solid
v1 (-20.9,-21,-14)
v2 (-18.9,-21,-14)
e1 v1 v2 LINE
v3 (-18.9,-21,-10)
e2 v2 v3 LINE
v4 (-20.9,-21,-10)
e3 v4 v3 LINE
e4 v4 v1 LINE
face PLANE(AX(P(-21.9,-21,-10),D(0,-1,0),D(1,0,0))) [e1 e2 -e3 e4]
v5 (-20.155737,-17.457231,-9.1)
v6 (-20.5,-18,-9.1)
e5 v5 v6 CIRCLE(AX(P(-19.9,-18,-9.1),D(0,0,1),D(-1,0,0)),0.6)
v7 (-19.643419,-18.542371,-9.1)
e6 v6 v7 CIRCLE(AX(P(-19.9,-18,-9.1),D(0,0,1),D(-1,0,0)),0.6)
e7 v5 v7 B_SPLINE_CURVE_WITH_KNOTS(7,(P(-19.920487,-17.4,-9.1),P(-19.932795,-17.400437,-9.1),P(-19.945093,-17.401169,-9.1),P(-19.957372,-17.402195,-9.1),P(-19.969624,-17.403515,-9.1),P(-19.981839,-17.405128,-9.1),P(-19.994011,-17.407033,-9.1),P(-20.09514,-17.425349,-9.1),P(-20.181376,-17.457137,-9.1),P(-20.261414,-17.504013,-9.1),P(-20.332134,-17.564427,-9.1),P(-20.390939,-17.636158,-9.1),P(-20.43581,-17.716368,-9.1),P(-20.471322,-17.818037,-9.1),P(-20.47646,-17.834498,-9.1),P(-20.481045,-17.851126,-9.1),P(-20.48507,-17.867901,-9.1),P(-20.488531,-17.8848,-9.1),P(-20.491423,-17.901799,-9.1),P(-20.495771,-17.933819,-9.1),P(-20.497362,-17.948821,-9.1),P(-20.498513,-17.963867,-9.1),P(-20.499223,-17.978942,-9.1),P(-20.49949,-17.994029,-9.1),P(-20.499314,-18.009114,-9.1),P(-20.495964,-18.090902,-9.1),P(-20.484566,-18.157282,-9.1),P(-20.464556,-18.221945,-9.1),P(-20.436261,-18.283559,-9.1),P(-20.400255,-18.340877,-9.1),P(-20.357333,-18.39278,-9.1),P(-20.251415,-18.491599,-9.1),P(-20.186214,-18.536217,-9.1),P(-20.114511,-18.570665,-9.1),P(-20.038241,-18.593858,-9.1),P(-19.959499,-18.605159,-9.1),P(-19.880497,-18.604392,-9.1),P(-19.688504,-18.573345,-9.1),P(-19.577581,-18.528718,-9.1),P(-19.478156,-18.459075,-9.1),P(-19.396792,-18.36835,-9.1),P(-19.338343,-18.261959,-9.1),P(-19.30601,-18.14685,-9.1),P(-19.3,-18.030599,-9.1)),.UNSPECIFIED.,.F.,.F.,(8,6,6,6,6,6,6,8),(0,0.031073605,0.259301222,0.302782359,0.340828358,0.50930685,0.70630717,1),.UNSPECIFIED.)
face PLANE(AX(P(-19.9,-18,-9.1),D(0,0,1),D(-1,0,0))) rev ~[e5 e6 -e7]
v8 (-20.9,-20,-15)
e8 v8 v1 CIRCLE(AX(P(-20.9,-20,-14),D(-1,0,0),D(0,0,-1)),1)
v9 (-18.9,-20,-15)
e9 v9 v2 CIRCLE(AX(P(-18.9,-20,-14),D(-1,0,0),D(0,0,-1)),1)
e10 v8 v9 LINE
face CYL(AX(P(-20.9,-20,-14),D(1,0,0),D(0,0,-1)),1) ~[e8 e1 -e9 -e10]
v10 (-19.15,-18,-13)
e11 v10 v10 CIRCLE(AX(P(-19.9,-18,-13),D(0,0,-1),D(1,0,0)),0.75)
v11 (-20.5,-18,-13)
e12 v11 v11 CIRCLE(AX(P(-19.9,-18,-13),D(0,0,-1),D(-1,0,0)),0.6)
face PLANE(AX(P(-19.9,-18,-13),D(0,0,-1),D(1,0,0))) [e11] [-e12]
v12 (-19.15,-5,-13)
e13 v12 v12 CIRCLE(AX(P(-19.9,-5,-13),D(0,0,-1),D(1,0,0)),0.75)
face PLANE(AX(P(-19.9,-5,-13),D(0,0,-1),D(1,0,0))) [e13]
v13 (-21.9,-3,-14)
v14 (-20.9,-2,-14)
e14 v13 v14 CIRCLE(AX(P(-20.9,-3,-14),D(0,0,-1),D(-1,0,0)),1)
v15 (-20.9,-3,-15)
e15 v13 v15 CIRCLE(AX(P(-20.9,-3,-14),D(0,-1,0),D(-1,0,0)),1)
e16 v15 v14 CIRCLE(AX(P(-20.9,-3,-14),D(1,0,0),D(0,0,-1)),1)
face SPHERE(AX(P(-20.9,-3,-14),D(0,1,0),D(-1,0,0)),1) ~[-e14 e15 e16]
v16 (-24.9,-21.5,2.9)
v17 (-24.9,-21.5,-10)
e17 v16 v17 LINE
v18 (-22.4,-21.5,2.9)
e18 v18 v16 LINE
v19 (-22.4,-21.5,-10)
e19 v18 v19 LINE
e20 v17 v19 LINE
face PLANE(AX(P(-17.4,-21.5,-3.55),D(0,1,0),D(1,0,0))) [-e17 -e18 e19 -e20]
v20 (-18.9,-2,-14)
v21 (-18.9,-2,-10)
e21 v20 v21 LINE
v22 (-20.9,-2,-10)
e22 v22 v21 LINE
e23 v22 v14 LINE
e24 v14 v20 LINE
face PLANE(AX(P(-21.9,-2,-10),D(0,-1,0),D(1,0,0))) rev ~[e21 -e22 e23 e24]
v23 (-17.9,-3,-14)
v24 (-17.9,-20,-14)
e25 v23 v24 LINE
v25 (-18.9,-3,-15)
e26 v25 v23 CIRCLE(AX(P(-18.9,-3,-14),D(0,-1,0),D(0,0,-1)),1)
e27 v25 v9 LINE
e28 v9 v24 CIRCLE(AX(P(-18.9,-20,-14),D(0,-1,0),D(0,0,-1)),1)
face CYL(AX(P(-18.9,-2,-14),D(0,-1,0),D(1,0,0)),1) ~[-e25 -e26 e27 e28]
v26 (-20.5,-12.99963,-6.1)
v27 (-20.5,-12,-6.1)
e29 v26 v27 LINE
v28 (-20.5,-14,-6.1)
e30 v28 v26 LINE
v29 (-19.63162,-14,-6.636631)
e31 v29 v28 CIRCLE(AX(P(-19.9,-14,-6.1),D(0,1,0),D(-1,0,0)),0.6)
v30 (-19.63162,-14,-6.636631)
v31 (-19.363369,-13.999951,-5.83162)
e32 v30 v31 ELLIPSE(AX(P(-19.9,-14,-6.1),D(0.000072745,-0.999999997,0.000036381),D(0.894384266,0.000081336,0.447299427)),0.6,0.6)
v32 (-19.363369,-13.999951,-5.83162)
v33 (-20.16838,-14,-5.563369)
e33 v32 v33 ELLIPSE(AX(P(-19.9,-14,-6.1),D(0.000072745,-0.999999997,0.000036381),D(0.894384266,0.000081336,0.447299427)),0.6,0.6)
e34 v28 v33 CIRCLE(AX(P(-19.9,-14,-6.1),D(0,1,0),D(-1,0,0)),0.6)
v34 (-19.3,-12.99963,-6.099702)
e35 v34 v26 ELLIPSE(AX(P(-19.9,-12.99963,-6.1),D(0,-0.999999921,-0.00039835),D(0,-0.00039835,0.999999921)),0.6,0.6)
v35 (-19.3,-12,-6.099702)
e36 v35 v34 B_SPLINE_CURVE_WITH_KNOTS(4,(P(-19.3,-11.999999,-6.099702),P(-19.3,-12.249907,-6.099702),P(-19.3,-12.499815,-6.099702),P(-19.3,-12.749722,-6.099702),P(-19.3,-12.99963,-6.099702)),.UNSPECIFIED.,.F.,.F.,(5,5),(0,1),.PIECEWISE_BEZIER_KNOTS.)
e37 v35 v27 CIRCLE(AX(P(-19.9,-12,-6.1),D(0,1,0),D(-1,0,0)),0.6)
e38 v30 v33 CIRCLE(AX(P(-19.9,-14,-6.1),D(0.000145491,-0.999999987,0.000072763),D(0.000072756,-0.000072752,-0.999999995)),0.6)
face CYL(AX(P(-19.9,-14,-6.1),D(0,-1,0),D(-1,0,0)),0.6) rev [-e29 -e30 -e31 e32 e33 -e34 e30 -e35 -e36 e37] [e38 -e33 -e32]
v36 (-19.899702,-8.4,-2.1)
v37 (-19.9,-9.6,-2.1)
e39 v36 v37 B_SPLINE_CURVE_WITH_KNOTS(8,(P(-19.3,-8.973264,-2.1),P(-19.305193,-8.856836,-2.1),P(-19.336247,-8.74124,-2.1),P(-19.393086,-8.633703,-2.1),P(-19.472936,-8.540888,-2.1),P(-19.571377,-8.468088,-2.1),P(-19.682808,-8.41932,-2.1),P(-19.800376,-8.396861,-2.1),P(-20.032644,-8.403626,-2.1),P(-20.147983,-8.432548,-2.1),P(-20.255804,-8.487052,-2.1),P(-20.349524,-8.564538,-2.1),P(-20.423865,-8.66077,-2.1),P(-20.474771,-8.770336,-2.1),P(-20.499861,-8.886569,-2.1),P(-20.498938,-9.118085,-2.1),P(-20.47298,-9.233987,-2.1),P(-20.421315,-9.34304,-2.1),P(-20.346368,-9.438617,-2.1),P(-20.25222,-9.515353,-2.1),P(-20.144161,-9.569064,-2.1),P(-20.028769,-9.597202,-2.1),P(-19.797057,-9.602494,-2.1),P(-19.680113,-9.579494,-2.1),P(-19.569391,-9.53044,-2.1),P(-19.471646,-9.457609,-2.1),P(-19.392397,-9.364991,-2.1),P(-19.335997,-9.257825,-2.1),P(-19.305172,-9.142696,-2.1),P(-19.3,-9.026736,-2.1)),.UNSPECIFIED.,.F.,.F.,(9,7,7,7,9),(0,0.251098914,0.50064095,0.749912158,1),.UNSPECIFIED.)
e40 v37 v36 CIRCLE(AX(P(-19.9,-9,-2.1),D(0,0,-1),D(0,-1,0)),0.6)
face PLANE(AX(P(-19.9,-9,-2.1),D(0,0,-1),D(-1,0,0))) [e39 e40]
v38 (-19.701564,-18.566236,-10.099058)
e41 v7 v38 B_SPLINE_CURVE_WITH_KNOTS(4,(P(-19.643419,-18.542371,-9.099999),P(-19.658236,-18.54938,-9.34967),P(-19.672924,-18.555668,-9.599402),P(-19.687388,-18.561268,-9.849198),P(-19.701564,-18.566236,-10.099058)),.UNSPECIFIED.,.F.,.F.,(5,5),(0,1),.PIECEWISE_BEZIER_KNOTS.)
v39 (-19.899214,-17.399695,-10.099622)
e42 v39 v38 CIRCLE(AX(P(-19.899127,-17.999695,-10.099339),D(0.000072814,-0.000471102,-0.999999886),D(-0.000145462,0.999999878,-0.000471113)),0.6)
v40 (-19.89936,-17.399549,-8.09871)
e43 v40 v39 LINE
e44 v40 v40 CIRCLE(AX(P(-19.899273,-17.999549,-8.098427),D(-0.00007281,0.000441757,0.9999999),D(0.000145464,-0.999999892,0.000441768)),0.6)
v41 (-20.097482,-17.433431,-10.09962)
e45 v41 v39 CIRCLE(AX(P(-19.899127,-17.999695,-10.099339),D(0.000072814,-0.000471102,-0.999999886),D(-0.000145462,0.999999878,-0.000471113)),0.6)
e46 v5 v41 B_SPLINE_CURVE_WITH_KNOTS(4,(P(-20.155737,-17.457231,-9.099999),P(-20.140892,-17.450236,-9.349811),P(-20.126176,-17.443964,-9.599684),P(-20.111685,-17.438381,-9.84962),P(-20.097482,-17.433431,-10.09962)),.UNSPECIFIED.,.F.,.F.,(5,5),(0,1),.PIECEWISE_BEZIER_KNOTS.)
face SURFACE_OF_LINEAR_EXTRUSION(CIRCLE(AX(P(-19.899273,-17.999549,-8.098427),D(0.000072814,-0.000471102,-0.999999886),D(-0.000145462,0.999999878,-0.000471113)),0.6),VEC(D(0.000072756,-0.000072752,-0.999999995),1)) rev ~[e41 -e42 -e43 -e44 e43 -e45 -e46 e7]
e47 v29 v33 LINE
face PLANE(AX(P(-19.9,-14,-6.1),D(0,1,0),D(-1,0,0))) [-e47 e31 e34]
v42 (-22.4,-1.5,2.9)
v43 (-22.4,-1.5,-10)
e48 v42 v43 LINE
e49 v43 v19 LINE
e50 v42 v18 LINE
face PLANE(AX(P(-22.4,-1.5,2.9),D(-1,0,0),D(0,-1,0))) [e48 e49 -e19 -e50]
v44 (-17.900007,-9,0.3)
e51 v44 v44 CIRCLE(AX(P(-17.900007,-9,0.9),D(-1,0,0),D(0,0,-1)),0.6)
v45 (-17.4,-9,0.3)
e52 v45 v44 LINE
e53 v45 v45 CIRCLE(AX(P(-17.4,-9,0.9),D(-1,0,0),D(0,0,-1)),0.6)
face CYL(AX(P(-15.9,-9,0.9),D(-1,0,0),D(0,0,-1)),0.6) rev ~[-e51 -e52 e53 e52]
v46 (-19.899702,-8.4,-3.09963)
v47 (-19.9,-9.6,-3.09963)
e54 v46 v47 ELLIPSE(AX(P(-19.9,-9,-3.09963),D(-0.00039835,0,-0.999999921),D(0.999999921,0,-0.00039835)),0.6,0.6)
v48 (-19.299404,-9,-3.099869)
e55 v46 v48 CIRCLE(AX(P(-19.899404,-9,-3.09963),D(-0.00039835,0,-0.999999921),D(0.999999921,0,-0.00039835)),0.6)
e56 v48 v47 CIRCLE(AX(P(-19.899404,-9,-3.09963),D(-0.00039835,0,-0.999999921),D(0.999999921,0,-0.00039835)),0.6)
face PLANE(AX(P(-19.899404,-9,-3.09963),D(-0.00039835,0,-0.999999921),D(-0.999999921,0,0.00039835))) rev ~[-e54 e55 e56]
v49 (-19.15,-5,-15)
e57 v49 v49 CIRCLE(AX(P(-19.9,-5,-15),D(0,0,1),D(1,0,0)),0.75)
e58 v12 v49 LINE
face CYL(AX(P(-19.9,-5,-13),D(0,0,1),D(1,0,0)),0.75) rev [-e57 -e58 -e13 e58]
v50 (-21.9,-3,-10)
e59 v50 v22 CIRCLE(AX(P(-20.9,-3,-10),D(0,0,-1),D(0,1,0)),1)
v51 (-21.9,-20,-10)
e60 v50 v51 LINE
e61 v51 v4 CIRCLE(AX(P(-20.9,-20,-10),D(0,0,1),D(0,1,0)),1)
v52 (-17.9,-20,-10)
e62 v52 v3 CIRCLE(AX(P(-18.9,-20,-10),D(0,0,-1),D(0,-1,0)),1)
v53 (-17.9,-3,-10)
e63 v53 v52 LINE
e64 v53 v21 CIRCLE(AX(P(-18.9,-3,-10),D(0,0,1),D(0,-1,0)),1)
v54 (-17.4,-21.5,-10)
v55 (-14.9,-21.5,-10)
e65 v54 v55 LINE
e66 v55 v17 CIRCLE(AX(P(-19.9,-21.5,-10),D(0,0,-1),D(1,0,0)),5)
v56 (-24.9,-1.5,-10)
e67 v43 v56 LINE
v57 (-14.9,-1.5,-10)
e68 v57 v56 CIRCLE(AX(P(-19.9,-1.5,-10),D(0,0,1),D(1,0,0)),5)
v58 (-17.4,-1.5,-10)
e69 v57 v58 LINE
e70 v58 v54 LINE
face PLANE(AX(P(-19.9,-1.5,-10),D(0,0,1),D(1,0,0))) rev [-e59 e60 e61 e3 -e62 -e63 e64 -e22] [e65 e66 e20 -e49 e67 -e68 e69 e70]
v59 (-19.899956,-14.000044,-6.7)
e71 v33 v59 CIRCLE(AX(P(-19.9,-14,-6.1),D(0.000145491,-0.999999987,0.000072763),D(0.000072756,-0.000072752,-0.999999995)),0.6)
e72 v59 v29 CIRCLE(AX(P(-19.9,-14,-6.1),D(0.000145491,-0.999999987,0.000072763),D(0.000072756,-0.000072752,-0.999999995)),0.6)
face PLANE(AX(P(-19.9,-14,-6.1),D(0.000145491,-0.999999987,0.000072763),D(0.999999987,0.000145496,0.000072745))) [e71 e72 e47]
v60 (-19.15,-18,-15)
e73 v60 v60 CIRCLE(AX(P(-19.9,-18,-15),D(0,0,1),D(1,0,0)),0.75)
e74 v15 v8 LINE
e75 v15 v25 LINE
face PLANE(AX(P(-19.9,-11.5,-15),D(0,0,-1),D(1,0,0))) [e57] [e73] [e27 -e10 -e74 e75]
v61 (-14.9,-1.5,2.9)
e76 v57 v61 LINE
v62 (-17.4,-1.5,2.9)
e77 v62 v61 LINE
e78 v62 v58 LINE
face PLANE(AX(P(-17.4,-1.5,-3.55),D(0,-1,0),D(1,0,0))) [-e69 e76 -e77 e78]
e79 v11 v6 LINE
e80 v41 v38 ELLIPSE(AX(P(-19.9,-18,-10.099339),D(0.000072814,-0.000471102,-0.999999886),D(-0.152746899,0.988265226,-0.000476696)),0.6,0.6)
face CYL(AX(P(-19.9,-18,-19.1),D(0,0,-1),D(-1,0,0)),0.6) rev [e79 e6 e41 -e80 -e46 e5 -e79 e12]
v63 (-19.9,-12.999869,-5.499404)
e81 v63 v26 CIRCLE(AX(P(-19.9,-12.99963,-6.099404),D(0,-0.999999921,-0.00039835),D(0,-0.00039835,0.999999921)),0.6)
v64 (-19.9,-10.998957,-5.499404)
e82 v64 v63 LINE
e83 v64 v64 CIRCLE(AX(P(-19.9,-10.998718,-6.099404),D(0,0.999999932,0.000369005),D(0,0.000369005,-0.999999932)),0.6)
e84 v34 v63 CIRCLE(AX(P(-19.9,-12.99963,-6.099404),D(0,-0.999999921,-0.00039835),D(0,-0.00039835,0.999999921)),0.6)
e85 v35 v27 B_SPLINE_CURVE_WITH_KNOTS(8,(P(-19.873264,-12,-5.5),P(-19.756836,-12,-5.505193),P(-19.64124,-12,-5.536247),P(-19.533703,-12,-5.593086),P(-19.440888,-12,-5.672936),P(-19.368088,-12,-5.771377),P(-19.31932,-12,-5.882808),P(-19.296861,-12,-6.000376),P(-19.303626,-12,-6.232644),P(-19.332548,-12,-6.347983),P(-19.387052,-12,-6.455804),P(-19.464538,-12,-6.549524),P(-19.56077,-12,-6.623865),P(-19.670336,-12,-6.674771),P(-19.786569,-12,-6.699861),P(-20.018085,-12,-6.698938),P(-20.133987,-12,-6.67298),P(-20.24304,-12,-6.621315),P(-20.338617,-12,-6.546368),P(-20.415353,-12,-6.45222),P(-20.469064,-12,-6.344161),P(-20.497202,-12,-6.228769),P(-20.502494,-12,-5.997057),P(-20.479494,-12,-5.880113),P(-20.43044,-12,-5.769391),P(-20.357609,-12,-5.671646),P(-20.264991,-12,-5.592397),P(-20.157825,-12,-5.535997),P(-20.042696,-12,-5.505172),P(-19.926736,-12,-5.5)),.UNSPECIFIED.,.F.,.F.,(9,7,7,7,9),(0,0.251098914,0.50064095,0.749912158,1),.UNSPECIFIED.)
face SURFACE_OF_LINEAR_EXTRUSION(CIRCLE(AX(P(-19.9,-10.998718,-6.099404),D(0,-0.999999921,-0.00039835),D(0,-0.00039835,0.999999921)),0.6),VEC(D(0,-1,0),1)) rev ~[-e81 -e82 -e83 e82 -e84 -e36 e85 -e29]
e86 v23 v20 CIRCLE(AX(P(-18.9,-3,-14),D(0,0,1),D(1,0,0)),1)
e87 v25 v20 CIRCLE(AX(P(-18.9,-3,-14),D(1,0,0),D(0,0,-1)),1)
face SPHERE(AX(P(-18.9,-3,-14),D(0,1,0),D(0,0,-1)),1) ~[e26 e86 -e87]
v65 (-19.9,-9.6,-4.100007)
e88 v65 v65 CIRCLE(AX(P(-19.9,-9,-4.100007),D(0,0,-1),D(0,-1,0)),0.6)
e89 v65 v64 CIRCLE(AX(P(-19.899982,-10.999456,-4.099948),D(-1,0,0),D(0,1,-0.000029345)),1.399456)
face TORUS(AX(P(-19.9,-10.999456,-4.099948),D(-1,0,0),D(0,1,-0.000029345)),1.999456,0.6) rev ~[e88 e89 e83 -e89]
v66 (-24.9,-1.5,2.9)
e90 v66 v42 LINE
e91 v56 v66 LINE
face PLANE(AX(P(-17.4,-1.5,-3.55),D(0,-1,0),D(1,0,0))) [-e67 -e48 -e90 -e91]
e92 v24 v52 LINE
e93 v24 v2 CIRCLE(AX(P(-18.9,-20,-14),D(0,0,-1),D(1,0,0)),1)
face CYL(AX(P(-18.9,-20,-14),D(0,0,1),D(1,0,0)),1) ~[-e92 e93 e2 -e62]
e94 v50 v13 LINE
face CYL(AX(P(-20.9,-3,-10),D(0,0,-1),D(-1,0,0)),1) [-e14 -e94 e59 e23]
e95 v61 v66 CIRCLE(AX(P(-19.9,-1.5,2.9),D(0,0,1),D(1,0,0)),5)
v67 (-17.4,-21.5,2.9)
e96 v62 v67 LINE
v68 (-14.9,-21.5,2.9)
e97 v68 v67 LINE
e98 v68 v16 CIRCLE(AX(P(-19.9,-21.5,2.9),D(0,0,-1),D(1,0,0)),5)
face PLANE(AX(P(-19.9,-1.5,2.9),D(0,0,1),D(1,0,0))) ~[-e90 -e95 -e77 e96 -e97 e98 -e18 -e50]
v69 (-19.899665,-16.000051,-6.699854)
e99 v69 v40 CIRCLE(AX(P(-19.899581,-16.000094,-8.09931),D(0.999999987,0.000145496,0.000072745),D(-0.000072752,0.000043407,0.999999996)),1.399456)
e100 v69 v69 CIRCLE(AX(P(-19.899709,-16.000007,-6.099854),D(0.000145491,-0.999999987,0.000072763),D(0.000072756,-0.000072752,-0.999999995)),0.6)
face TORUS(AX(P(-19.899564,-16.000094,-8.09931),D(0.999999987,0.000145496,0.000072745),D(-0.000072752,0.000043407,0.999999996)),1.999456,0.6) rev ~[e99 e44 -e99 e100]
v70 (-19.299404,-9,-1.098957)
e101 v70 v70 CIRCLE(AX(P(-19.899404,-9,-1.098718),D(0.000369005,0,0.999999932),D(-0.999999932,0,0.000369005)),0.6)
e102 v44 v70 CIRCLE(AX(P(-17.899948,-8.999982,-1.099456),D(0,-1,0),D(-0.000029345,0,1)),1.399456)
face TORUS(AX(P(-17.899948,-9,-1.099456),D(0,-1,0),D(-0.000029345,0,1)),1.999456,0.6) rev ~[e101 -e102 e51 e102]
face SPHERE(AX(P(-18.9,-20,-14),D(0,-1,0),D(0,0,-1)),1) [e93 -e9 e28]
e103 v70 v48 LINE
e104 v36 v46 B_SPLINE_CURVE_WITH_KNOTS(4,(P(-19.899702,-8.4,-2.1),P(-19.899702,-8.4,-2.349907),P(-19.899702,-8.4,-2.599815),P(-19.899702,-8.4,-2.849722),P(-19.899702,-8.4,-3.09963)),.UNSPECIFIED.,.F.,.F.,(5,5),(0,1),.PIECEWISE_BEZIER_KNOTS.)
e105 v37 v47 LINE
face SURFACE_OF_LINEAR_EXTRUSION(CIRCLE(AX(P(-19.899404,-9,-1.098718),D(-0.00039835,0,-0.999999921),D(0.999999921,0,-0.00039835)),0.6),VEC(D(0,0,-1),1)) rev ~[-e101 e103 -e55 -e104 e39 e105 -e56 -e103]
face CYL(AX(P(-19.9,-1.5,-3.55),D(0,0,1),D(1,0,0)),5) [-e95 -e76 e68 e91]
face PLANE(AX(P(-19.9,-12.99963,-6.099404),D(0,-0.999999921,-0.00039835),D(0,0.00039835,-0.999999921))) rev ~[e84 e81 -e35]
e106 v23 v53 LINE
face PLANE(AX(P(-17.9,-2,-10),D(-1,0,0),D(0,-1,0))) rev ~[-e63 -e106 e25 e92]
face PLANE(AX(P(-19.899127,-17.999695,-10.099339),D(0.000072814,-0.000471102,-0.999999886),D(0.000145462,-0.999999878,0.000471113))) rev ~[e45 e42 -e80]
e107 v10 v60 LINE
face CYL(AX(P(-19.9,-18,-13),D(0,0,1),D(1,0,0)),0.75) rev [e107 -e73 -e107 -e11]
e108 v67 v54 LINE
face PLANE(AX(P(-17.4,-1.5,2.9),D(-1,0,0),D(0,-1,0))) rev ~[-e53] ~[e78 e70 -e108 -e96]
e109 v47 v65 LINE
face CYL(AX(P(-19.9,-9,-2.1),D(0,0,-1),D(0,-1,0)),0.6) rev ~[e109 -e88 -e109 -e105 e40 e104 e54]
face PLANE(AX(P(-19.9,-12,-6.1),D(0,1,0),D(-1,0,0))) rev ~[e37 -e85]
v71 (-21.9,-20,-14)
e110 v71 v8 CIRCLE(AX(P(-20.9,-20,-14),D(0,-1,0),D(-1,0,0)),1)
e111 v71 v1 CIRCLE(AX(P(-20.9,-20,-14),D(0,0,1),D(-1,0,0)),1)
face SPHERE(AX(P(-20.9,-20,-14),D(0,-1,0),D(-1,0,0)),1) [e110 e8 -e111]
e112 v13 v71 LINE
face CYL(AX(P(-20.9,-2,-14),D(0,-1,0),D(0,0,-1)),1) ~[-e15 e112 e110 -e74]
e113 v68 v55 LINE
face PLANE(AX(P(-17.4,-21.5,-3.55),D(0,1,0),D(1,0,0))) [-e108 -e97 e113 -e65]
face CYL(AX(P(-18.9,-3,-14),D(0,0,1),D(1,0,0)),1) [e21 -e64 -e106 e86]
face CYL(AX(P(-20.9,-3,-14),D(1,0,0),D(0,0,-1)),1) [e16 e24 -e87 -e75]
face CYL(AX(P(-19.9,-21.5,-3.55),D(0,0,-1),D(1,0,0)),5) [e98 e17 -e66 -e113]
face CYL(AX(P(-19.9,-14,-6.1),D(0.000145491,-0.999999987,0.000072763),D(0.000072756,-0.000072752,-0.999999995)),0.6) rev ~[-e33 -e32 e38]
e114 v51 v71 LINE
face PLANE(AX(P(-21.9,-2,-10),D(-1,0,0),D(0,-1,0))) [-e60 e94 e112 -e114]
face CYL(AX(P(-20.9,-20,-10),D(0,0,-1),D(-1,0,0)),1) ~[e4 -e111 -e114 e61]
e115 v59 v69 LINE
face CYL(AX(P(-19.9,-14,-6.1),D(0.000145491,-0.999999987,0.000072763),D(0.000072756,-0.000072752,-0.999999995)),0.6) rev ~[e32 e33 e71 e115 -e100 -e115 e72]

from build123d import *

# Parameters (mm, degrees)
CYLINDER045_R                = 0.6
CYLINDER045_DEPTH            = 10
CYLINDER044_R                = 0.6
CYLINDER044_DEPTH            = 2
CYLINDER044_ROLL_ANGLE       = 90
SKETCH016_R                  = 0.6
SWEEP007_PITCH_ANGLE         = 90
SKETCH014_R                  = 0.6
SWEEP006_ROLL_ANGLE          = -90
SKETCH018_R                  = 0.6
SWEEP008_ROLL_ANGLE          = -89.995832
SWEEP008_PITCH_ANGLE         = -0.004169
SWEEP008_PLACEMENT_ANGLE     = 90.008336
CYLINDER018_W                = 5
CYLINDER018_H                = 12.9
CYLINDER018_ANGLE            = 180
CYLINDER019_W                = 5
CYLINDER019_H                = 12.9
CYLINDER019_ANGLE            = 180
CYLINDER043_R                = 0.75
CYLINDER043_DEPTH            = 10
CYLINDER042_R                = 0.75
CYLINDER042_DEPTH            = 10
BOX019_W                     = 4
BOX019_H                     = 19
BOX019_DEPTH                 = 5
FILLET004_R                  = 1
FILLET005_R                  = 1
FILLET006_R                  = 1
FILLET007_R                  = 1
BOX018_W                     = 5
BOX018_H                     = 20
BOX018_DEPTH                 = 12.9
FUSION002013_PLACEMENT_ANGLE = 180
CUT064_PLACEMENT_ANGLE       = 180


with BuildPart() as cilindro045:
    # Cylinder045 → Cylinder045 (new body)
    with BuildSketch(Plane(origin=(22, -4, -17), x_dir=(1, 0, 0), z_dir=(0, 0, 1))):
        Circle(CYLINDER045_R)
    extrude(amount=CYLINDER045_DEPTH)


with BuildPart() as cilindro044:
    # Cylinder044 → Cylinder044 (new body)
    with BuildSketch(Plane.XY):
        Circle(CYLINDER044_R)
    extrude(amount=CYLINDER044_DEPTH)


with BuildPart() as cilindro044_1:
    # Cylinder044 roll: moved
    add(cilindro044.part.rotate(Axis((0, 0, 0), (1, 0, 0)), CYLINDER044_ROLL_ANGLE))


with BuildPart() as cilindro044_2:
    # Cylinder044 placement: moved
    add(cilindro044_1.part.moved(Location((22, -8, -4))))


with BuildPart() as sweep007:
    # Sweep007: sweep along a path in Sketch015
    with BuildLine(Plane.XY) as sweep007_path:
        Line((0, 0), (2.000007, 0))
        ThreePointArc((2.000007, 0), (3.413537, 0.585387), (3.999404, 1.998718))
        Line((3.999404, 1.998718), (3.999404, 3.99963))
    # Sketch016 → Sweep007 (sweep)
    with BuildSketch(Plane.YZ):
        Circle(SKETCH016_R)
    sweep(path=sweep007_path.line, transition=Transition.RIGHT)


with BuildPart() as sweep007_1:
    # Sweep007 pitch: moved
    add(sweep007.part.rotate(Axis((0, 0, 0), (0, 1, 0)), SWEEP007_PITCH_ANGLE))


with BuildPart() as sweep007_2:
    # Sweep007 placement: moved
    add(sweep007_1.part.moved(Location((22, -13, 0))))


with BuildPart() as sweep006:
    # Sweep006: sweep along a path in Sketch013
    with BuildLine(Plane.XY) as sweep006_path:
        Line((0, 0), (2.000007, 0))
        ThreePointArc((2.000007, 0), (3.413537, 0.585387), (3.999404, 1.998718))
        Line((3.999404, 1.998718), (3.999404, 3.99963))
    # Sketch014 → Sweep006 (sweep)
    with BuildSketch(Plane.YZ):
        Circle(SKETCH014_R)
    sweep(path=sweep006_path.line, transition=Transition.RIGHT)


with BuildPart() as sweep006_1:
    # Sweep006 roll: moved
    add(sweep006.part.rotate(Axis((0, 0, 0), (1, 0, 0)), SWEEP006_ROLL_ANGLE))


with BuildPart() as sweep006_2:
    # Sweep006 placement: moved
    add(sweep006_1.part.moved(Location((18, -13, 3))))


with BuildPart() as fusion002014:
    # Sweep008: sweep along a path in Sketch017
    with BuildLine(Plane.XY) as sweep008_path:
        Line((0, 0), (2.000007, 0))
        ThreePointArc((2.000007, 0), (3.413537, 0.585387), (3.999404, 1.998718))
        Line((3.999404, 1.998718), (3.999404, 3.99963))
    # Sketch018 → Sweep008 (sweep)
    with BuildSketch(Plane.YZ):
        Circle(SKETCH018_R)
    sweep(path=sweep008_path.line, transition=Transition.RIGHT)


with BuildPart() as fusion002014_1:
    # Sweep008 roll: moved
    add(fusion002014.part.rotate(Axis((0, 0, 0), (1, 0, 0)), SWEEP008_ROLL_ANGLE))


with BuildPart() as fusion002014_2:
    # Sweep008 pitch: moved
    add(fusion002014_1.part.rotate(Axis((0, 0, 0), (0, 1, 0)), SWEEP008_PITCH_ANGLE))


with BuildPart() as fusion002014_3:
    # Sweep008 placement: moved
    add(fusion002014_2.part.moved(Location((22, -8, -4))).rotate(Axis((22, -8, -4), (0, 0, 1)), SWEEP008_PLACEMENT_ANGLE))

    # Fusion002014: union Cilindro045, Cilindro044, Sweep007, Sweep006
    add(cilindro045.part)
    add(cilindro044_2.part)
    add(sweep007_2.part)
    add(sweep006_2.part)


with BuildPart() as fusion002014_4:
    # Fusion002014 placement: moved
    add(fusion002014_3.part.moved(Location((-1.1, 0, 0))))


with BuildPart() as cilindro018:
    # Cylinder018 → Cylinder018 (revolve)
    with BuildSketch(Plane(origin=(21.5, 76, -4), x_dir=(1, 0, 0), z_dir=(0, -1, 0))):
        with Locations((2.5, 6.45)):
            Rectangle(CYLINDER018_W, CYLINDER018_H)
    revolve(axis=Axis((21.5, 76, -4), (0, 0, 1)), revolution_arc=CYLINDER018_ANGLE)


with BuildPart() as cilindro019:
    # Cylinder019 → Cylinder019 (revolve)
    with BuildSketch(Plane(origin=(21.5, 56, 8.9), x_dir=(1, 0, 0), z_dir=(0, 1, 0))):
        with Locations((2.5, 6.45)):
            Rectangle(CYLINDER019_W, CYLINDER019_H)
    revolve(axis=Axis((21.5, 56, 8.9), (0, 0, -1)), revolution_arc=CYLINDER019_ANGLE)


with BuildPart() as cilindro043:
    # Cylinder043 → Cylinder043 (new body)
    with BuildSketch(Plane(origin=(-39, 66, 48), x_dir=(1, 0, 0), z_dir=(0, 0, 1))):
        Circle(CYLINDER043_R)
    extrude(amount=CYLINDER043_DEPTH)


with BuildPart() as cilindro042:
    # Cylinder042 → Cylinder042 (new body)
    with BuildSketch(Plane(origin=(-39, 53, 48), x_dir=(1, 0, 0), z_dir=(0, 0, 1))):
        Circle(CYLINDER042_R)
    extrude(amount=CYLINDER042_DEPTH)


with BuildPart() as cut063:
    # Box019 → Box019 (new body)
    with BuildSketch(Plane(origin=(-2, 50, 45), x_dir=(1, 0, 0), z_dir=(0, 0, 1))):
        with Locations((2, 9.5)):
            Rectangle(BOX019_W, BOX019_H)
    extrude(amount=BOX019_DEPTH)

    # Fillet004
    fillet004_edges = [cut063.edges().sort_by_distance(p)[0] for p in [
        (2, 59.5, 50),
    ]]
    fillet(fillet004_edges, radius=FILLET004_R)

    # Fillet005
    fillet005_edges = [cut063.edges().sort_by_distance(p)[0] for p in [
        (-2, 59.5, 50),
    ]]
    fillet(fillet005_edges, radius=FILLET005_R)

    # Fillet006
    fillet006_edges = [cut063.edges().sort_by_distance(p)[0] for p in [
        (0, 69, 50),
    ]]
    fillet(fillet006_edges, radius=FILLET006_R)

    # Fillet007
    fillet007_edges = [cut063.edges().sort_by_distance(p)[0] for p in [
        (0, 50, 50),
    ]]
    fillet(fillet007_edges, radius=FILLET007_R)


with BuildPart() as cut063_1:
    # Fillet007 placement: moved
    add(cut063.part.moved(Location((-39, 0, 0))))

    # Cut062: cut Cilindro042
    add(cilindro042.part, mode=Mode.SUBTRACT)

    # Cut063: cut Cilindro043
    add(cilindro043.part, mode=Mode.SUBTRACT)


with BuildPart() as cut063_2:
    # Cut063 placement: moved
    add(cut063_1.part.moved(Location((60.5, 6.5, -36.1))))


with BuildPart() as cut064:
    # Box018 → Box018 (new body)
    with BuildSketch(Plane(origin=(19, 56, -4), x_dir=(1, 0, 0), z_dir=(0, 0, 1))):
        with Locations((2.5, 10)):
            Rectangle(BOX018_W, BOX018_H)
    extrude(amount=BOX018_DEPTH)

    # Fusion002013: union Cilindro018, Cilindro019, Cut063
    add(cilindro018.part)
    add(cilindro019.part)
    add(cut063_2.part)


with BuildPart() as cut064_1:
    # Fusion002013 placement: moved
    add(cut064.part.moved(Location((42.4, -76.5, 1))).rotate(Axis((42.4, -76.5, 1), (0, 1, 0)), FUSION002013_PLACEMENT_ANGLE))

    # Cut064: cut Fusion002014
    add(fusion002014_4.part, mode=Mode.SUBTRACT)


with BuildPart() as cut064_2:
    # Cut064 placement: moved
    add(cut064_1.part.moved(Location((1, -22, -2.1))).rotate(Axis((1, -22, -2.1), (0, 0, 1)), CUT064_PLACEMENT_ANGLE))


solid = cut064_2.part
